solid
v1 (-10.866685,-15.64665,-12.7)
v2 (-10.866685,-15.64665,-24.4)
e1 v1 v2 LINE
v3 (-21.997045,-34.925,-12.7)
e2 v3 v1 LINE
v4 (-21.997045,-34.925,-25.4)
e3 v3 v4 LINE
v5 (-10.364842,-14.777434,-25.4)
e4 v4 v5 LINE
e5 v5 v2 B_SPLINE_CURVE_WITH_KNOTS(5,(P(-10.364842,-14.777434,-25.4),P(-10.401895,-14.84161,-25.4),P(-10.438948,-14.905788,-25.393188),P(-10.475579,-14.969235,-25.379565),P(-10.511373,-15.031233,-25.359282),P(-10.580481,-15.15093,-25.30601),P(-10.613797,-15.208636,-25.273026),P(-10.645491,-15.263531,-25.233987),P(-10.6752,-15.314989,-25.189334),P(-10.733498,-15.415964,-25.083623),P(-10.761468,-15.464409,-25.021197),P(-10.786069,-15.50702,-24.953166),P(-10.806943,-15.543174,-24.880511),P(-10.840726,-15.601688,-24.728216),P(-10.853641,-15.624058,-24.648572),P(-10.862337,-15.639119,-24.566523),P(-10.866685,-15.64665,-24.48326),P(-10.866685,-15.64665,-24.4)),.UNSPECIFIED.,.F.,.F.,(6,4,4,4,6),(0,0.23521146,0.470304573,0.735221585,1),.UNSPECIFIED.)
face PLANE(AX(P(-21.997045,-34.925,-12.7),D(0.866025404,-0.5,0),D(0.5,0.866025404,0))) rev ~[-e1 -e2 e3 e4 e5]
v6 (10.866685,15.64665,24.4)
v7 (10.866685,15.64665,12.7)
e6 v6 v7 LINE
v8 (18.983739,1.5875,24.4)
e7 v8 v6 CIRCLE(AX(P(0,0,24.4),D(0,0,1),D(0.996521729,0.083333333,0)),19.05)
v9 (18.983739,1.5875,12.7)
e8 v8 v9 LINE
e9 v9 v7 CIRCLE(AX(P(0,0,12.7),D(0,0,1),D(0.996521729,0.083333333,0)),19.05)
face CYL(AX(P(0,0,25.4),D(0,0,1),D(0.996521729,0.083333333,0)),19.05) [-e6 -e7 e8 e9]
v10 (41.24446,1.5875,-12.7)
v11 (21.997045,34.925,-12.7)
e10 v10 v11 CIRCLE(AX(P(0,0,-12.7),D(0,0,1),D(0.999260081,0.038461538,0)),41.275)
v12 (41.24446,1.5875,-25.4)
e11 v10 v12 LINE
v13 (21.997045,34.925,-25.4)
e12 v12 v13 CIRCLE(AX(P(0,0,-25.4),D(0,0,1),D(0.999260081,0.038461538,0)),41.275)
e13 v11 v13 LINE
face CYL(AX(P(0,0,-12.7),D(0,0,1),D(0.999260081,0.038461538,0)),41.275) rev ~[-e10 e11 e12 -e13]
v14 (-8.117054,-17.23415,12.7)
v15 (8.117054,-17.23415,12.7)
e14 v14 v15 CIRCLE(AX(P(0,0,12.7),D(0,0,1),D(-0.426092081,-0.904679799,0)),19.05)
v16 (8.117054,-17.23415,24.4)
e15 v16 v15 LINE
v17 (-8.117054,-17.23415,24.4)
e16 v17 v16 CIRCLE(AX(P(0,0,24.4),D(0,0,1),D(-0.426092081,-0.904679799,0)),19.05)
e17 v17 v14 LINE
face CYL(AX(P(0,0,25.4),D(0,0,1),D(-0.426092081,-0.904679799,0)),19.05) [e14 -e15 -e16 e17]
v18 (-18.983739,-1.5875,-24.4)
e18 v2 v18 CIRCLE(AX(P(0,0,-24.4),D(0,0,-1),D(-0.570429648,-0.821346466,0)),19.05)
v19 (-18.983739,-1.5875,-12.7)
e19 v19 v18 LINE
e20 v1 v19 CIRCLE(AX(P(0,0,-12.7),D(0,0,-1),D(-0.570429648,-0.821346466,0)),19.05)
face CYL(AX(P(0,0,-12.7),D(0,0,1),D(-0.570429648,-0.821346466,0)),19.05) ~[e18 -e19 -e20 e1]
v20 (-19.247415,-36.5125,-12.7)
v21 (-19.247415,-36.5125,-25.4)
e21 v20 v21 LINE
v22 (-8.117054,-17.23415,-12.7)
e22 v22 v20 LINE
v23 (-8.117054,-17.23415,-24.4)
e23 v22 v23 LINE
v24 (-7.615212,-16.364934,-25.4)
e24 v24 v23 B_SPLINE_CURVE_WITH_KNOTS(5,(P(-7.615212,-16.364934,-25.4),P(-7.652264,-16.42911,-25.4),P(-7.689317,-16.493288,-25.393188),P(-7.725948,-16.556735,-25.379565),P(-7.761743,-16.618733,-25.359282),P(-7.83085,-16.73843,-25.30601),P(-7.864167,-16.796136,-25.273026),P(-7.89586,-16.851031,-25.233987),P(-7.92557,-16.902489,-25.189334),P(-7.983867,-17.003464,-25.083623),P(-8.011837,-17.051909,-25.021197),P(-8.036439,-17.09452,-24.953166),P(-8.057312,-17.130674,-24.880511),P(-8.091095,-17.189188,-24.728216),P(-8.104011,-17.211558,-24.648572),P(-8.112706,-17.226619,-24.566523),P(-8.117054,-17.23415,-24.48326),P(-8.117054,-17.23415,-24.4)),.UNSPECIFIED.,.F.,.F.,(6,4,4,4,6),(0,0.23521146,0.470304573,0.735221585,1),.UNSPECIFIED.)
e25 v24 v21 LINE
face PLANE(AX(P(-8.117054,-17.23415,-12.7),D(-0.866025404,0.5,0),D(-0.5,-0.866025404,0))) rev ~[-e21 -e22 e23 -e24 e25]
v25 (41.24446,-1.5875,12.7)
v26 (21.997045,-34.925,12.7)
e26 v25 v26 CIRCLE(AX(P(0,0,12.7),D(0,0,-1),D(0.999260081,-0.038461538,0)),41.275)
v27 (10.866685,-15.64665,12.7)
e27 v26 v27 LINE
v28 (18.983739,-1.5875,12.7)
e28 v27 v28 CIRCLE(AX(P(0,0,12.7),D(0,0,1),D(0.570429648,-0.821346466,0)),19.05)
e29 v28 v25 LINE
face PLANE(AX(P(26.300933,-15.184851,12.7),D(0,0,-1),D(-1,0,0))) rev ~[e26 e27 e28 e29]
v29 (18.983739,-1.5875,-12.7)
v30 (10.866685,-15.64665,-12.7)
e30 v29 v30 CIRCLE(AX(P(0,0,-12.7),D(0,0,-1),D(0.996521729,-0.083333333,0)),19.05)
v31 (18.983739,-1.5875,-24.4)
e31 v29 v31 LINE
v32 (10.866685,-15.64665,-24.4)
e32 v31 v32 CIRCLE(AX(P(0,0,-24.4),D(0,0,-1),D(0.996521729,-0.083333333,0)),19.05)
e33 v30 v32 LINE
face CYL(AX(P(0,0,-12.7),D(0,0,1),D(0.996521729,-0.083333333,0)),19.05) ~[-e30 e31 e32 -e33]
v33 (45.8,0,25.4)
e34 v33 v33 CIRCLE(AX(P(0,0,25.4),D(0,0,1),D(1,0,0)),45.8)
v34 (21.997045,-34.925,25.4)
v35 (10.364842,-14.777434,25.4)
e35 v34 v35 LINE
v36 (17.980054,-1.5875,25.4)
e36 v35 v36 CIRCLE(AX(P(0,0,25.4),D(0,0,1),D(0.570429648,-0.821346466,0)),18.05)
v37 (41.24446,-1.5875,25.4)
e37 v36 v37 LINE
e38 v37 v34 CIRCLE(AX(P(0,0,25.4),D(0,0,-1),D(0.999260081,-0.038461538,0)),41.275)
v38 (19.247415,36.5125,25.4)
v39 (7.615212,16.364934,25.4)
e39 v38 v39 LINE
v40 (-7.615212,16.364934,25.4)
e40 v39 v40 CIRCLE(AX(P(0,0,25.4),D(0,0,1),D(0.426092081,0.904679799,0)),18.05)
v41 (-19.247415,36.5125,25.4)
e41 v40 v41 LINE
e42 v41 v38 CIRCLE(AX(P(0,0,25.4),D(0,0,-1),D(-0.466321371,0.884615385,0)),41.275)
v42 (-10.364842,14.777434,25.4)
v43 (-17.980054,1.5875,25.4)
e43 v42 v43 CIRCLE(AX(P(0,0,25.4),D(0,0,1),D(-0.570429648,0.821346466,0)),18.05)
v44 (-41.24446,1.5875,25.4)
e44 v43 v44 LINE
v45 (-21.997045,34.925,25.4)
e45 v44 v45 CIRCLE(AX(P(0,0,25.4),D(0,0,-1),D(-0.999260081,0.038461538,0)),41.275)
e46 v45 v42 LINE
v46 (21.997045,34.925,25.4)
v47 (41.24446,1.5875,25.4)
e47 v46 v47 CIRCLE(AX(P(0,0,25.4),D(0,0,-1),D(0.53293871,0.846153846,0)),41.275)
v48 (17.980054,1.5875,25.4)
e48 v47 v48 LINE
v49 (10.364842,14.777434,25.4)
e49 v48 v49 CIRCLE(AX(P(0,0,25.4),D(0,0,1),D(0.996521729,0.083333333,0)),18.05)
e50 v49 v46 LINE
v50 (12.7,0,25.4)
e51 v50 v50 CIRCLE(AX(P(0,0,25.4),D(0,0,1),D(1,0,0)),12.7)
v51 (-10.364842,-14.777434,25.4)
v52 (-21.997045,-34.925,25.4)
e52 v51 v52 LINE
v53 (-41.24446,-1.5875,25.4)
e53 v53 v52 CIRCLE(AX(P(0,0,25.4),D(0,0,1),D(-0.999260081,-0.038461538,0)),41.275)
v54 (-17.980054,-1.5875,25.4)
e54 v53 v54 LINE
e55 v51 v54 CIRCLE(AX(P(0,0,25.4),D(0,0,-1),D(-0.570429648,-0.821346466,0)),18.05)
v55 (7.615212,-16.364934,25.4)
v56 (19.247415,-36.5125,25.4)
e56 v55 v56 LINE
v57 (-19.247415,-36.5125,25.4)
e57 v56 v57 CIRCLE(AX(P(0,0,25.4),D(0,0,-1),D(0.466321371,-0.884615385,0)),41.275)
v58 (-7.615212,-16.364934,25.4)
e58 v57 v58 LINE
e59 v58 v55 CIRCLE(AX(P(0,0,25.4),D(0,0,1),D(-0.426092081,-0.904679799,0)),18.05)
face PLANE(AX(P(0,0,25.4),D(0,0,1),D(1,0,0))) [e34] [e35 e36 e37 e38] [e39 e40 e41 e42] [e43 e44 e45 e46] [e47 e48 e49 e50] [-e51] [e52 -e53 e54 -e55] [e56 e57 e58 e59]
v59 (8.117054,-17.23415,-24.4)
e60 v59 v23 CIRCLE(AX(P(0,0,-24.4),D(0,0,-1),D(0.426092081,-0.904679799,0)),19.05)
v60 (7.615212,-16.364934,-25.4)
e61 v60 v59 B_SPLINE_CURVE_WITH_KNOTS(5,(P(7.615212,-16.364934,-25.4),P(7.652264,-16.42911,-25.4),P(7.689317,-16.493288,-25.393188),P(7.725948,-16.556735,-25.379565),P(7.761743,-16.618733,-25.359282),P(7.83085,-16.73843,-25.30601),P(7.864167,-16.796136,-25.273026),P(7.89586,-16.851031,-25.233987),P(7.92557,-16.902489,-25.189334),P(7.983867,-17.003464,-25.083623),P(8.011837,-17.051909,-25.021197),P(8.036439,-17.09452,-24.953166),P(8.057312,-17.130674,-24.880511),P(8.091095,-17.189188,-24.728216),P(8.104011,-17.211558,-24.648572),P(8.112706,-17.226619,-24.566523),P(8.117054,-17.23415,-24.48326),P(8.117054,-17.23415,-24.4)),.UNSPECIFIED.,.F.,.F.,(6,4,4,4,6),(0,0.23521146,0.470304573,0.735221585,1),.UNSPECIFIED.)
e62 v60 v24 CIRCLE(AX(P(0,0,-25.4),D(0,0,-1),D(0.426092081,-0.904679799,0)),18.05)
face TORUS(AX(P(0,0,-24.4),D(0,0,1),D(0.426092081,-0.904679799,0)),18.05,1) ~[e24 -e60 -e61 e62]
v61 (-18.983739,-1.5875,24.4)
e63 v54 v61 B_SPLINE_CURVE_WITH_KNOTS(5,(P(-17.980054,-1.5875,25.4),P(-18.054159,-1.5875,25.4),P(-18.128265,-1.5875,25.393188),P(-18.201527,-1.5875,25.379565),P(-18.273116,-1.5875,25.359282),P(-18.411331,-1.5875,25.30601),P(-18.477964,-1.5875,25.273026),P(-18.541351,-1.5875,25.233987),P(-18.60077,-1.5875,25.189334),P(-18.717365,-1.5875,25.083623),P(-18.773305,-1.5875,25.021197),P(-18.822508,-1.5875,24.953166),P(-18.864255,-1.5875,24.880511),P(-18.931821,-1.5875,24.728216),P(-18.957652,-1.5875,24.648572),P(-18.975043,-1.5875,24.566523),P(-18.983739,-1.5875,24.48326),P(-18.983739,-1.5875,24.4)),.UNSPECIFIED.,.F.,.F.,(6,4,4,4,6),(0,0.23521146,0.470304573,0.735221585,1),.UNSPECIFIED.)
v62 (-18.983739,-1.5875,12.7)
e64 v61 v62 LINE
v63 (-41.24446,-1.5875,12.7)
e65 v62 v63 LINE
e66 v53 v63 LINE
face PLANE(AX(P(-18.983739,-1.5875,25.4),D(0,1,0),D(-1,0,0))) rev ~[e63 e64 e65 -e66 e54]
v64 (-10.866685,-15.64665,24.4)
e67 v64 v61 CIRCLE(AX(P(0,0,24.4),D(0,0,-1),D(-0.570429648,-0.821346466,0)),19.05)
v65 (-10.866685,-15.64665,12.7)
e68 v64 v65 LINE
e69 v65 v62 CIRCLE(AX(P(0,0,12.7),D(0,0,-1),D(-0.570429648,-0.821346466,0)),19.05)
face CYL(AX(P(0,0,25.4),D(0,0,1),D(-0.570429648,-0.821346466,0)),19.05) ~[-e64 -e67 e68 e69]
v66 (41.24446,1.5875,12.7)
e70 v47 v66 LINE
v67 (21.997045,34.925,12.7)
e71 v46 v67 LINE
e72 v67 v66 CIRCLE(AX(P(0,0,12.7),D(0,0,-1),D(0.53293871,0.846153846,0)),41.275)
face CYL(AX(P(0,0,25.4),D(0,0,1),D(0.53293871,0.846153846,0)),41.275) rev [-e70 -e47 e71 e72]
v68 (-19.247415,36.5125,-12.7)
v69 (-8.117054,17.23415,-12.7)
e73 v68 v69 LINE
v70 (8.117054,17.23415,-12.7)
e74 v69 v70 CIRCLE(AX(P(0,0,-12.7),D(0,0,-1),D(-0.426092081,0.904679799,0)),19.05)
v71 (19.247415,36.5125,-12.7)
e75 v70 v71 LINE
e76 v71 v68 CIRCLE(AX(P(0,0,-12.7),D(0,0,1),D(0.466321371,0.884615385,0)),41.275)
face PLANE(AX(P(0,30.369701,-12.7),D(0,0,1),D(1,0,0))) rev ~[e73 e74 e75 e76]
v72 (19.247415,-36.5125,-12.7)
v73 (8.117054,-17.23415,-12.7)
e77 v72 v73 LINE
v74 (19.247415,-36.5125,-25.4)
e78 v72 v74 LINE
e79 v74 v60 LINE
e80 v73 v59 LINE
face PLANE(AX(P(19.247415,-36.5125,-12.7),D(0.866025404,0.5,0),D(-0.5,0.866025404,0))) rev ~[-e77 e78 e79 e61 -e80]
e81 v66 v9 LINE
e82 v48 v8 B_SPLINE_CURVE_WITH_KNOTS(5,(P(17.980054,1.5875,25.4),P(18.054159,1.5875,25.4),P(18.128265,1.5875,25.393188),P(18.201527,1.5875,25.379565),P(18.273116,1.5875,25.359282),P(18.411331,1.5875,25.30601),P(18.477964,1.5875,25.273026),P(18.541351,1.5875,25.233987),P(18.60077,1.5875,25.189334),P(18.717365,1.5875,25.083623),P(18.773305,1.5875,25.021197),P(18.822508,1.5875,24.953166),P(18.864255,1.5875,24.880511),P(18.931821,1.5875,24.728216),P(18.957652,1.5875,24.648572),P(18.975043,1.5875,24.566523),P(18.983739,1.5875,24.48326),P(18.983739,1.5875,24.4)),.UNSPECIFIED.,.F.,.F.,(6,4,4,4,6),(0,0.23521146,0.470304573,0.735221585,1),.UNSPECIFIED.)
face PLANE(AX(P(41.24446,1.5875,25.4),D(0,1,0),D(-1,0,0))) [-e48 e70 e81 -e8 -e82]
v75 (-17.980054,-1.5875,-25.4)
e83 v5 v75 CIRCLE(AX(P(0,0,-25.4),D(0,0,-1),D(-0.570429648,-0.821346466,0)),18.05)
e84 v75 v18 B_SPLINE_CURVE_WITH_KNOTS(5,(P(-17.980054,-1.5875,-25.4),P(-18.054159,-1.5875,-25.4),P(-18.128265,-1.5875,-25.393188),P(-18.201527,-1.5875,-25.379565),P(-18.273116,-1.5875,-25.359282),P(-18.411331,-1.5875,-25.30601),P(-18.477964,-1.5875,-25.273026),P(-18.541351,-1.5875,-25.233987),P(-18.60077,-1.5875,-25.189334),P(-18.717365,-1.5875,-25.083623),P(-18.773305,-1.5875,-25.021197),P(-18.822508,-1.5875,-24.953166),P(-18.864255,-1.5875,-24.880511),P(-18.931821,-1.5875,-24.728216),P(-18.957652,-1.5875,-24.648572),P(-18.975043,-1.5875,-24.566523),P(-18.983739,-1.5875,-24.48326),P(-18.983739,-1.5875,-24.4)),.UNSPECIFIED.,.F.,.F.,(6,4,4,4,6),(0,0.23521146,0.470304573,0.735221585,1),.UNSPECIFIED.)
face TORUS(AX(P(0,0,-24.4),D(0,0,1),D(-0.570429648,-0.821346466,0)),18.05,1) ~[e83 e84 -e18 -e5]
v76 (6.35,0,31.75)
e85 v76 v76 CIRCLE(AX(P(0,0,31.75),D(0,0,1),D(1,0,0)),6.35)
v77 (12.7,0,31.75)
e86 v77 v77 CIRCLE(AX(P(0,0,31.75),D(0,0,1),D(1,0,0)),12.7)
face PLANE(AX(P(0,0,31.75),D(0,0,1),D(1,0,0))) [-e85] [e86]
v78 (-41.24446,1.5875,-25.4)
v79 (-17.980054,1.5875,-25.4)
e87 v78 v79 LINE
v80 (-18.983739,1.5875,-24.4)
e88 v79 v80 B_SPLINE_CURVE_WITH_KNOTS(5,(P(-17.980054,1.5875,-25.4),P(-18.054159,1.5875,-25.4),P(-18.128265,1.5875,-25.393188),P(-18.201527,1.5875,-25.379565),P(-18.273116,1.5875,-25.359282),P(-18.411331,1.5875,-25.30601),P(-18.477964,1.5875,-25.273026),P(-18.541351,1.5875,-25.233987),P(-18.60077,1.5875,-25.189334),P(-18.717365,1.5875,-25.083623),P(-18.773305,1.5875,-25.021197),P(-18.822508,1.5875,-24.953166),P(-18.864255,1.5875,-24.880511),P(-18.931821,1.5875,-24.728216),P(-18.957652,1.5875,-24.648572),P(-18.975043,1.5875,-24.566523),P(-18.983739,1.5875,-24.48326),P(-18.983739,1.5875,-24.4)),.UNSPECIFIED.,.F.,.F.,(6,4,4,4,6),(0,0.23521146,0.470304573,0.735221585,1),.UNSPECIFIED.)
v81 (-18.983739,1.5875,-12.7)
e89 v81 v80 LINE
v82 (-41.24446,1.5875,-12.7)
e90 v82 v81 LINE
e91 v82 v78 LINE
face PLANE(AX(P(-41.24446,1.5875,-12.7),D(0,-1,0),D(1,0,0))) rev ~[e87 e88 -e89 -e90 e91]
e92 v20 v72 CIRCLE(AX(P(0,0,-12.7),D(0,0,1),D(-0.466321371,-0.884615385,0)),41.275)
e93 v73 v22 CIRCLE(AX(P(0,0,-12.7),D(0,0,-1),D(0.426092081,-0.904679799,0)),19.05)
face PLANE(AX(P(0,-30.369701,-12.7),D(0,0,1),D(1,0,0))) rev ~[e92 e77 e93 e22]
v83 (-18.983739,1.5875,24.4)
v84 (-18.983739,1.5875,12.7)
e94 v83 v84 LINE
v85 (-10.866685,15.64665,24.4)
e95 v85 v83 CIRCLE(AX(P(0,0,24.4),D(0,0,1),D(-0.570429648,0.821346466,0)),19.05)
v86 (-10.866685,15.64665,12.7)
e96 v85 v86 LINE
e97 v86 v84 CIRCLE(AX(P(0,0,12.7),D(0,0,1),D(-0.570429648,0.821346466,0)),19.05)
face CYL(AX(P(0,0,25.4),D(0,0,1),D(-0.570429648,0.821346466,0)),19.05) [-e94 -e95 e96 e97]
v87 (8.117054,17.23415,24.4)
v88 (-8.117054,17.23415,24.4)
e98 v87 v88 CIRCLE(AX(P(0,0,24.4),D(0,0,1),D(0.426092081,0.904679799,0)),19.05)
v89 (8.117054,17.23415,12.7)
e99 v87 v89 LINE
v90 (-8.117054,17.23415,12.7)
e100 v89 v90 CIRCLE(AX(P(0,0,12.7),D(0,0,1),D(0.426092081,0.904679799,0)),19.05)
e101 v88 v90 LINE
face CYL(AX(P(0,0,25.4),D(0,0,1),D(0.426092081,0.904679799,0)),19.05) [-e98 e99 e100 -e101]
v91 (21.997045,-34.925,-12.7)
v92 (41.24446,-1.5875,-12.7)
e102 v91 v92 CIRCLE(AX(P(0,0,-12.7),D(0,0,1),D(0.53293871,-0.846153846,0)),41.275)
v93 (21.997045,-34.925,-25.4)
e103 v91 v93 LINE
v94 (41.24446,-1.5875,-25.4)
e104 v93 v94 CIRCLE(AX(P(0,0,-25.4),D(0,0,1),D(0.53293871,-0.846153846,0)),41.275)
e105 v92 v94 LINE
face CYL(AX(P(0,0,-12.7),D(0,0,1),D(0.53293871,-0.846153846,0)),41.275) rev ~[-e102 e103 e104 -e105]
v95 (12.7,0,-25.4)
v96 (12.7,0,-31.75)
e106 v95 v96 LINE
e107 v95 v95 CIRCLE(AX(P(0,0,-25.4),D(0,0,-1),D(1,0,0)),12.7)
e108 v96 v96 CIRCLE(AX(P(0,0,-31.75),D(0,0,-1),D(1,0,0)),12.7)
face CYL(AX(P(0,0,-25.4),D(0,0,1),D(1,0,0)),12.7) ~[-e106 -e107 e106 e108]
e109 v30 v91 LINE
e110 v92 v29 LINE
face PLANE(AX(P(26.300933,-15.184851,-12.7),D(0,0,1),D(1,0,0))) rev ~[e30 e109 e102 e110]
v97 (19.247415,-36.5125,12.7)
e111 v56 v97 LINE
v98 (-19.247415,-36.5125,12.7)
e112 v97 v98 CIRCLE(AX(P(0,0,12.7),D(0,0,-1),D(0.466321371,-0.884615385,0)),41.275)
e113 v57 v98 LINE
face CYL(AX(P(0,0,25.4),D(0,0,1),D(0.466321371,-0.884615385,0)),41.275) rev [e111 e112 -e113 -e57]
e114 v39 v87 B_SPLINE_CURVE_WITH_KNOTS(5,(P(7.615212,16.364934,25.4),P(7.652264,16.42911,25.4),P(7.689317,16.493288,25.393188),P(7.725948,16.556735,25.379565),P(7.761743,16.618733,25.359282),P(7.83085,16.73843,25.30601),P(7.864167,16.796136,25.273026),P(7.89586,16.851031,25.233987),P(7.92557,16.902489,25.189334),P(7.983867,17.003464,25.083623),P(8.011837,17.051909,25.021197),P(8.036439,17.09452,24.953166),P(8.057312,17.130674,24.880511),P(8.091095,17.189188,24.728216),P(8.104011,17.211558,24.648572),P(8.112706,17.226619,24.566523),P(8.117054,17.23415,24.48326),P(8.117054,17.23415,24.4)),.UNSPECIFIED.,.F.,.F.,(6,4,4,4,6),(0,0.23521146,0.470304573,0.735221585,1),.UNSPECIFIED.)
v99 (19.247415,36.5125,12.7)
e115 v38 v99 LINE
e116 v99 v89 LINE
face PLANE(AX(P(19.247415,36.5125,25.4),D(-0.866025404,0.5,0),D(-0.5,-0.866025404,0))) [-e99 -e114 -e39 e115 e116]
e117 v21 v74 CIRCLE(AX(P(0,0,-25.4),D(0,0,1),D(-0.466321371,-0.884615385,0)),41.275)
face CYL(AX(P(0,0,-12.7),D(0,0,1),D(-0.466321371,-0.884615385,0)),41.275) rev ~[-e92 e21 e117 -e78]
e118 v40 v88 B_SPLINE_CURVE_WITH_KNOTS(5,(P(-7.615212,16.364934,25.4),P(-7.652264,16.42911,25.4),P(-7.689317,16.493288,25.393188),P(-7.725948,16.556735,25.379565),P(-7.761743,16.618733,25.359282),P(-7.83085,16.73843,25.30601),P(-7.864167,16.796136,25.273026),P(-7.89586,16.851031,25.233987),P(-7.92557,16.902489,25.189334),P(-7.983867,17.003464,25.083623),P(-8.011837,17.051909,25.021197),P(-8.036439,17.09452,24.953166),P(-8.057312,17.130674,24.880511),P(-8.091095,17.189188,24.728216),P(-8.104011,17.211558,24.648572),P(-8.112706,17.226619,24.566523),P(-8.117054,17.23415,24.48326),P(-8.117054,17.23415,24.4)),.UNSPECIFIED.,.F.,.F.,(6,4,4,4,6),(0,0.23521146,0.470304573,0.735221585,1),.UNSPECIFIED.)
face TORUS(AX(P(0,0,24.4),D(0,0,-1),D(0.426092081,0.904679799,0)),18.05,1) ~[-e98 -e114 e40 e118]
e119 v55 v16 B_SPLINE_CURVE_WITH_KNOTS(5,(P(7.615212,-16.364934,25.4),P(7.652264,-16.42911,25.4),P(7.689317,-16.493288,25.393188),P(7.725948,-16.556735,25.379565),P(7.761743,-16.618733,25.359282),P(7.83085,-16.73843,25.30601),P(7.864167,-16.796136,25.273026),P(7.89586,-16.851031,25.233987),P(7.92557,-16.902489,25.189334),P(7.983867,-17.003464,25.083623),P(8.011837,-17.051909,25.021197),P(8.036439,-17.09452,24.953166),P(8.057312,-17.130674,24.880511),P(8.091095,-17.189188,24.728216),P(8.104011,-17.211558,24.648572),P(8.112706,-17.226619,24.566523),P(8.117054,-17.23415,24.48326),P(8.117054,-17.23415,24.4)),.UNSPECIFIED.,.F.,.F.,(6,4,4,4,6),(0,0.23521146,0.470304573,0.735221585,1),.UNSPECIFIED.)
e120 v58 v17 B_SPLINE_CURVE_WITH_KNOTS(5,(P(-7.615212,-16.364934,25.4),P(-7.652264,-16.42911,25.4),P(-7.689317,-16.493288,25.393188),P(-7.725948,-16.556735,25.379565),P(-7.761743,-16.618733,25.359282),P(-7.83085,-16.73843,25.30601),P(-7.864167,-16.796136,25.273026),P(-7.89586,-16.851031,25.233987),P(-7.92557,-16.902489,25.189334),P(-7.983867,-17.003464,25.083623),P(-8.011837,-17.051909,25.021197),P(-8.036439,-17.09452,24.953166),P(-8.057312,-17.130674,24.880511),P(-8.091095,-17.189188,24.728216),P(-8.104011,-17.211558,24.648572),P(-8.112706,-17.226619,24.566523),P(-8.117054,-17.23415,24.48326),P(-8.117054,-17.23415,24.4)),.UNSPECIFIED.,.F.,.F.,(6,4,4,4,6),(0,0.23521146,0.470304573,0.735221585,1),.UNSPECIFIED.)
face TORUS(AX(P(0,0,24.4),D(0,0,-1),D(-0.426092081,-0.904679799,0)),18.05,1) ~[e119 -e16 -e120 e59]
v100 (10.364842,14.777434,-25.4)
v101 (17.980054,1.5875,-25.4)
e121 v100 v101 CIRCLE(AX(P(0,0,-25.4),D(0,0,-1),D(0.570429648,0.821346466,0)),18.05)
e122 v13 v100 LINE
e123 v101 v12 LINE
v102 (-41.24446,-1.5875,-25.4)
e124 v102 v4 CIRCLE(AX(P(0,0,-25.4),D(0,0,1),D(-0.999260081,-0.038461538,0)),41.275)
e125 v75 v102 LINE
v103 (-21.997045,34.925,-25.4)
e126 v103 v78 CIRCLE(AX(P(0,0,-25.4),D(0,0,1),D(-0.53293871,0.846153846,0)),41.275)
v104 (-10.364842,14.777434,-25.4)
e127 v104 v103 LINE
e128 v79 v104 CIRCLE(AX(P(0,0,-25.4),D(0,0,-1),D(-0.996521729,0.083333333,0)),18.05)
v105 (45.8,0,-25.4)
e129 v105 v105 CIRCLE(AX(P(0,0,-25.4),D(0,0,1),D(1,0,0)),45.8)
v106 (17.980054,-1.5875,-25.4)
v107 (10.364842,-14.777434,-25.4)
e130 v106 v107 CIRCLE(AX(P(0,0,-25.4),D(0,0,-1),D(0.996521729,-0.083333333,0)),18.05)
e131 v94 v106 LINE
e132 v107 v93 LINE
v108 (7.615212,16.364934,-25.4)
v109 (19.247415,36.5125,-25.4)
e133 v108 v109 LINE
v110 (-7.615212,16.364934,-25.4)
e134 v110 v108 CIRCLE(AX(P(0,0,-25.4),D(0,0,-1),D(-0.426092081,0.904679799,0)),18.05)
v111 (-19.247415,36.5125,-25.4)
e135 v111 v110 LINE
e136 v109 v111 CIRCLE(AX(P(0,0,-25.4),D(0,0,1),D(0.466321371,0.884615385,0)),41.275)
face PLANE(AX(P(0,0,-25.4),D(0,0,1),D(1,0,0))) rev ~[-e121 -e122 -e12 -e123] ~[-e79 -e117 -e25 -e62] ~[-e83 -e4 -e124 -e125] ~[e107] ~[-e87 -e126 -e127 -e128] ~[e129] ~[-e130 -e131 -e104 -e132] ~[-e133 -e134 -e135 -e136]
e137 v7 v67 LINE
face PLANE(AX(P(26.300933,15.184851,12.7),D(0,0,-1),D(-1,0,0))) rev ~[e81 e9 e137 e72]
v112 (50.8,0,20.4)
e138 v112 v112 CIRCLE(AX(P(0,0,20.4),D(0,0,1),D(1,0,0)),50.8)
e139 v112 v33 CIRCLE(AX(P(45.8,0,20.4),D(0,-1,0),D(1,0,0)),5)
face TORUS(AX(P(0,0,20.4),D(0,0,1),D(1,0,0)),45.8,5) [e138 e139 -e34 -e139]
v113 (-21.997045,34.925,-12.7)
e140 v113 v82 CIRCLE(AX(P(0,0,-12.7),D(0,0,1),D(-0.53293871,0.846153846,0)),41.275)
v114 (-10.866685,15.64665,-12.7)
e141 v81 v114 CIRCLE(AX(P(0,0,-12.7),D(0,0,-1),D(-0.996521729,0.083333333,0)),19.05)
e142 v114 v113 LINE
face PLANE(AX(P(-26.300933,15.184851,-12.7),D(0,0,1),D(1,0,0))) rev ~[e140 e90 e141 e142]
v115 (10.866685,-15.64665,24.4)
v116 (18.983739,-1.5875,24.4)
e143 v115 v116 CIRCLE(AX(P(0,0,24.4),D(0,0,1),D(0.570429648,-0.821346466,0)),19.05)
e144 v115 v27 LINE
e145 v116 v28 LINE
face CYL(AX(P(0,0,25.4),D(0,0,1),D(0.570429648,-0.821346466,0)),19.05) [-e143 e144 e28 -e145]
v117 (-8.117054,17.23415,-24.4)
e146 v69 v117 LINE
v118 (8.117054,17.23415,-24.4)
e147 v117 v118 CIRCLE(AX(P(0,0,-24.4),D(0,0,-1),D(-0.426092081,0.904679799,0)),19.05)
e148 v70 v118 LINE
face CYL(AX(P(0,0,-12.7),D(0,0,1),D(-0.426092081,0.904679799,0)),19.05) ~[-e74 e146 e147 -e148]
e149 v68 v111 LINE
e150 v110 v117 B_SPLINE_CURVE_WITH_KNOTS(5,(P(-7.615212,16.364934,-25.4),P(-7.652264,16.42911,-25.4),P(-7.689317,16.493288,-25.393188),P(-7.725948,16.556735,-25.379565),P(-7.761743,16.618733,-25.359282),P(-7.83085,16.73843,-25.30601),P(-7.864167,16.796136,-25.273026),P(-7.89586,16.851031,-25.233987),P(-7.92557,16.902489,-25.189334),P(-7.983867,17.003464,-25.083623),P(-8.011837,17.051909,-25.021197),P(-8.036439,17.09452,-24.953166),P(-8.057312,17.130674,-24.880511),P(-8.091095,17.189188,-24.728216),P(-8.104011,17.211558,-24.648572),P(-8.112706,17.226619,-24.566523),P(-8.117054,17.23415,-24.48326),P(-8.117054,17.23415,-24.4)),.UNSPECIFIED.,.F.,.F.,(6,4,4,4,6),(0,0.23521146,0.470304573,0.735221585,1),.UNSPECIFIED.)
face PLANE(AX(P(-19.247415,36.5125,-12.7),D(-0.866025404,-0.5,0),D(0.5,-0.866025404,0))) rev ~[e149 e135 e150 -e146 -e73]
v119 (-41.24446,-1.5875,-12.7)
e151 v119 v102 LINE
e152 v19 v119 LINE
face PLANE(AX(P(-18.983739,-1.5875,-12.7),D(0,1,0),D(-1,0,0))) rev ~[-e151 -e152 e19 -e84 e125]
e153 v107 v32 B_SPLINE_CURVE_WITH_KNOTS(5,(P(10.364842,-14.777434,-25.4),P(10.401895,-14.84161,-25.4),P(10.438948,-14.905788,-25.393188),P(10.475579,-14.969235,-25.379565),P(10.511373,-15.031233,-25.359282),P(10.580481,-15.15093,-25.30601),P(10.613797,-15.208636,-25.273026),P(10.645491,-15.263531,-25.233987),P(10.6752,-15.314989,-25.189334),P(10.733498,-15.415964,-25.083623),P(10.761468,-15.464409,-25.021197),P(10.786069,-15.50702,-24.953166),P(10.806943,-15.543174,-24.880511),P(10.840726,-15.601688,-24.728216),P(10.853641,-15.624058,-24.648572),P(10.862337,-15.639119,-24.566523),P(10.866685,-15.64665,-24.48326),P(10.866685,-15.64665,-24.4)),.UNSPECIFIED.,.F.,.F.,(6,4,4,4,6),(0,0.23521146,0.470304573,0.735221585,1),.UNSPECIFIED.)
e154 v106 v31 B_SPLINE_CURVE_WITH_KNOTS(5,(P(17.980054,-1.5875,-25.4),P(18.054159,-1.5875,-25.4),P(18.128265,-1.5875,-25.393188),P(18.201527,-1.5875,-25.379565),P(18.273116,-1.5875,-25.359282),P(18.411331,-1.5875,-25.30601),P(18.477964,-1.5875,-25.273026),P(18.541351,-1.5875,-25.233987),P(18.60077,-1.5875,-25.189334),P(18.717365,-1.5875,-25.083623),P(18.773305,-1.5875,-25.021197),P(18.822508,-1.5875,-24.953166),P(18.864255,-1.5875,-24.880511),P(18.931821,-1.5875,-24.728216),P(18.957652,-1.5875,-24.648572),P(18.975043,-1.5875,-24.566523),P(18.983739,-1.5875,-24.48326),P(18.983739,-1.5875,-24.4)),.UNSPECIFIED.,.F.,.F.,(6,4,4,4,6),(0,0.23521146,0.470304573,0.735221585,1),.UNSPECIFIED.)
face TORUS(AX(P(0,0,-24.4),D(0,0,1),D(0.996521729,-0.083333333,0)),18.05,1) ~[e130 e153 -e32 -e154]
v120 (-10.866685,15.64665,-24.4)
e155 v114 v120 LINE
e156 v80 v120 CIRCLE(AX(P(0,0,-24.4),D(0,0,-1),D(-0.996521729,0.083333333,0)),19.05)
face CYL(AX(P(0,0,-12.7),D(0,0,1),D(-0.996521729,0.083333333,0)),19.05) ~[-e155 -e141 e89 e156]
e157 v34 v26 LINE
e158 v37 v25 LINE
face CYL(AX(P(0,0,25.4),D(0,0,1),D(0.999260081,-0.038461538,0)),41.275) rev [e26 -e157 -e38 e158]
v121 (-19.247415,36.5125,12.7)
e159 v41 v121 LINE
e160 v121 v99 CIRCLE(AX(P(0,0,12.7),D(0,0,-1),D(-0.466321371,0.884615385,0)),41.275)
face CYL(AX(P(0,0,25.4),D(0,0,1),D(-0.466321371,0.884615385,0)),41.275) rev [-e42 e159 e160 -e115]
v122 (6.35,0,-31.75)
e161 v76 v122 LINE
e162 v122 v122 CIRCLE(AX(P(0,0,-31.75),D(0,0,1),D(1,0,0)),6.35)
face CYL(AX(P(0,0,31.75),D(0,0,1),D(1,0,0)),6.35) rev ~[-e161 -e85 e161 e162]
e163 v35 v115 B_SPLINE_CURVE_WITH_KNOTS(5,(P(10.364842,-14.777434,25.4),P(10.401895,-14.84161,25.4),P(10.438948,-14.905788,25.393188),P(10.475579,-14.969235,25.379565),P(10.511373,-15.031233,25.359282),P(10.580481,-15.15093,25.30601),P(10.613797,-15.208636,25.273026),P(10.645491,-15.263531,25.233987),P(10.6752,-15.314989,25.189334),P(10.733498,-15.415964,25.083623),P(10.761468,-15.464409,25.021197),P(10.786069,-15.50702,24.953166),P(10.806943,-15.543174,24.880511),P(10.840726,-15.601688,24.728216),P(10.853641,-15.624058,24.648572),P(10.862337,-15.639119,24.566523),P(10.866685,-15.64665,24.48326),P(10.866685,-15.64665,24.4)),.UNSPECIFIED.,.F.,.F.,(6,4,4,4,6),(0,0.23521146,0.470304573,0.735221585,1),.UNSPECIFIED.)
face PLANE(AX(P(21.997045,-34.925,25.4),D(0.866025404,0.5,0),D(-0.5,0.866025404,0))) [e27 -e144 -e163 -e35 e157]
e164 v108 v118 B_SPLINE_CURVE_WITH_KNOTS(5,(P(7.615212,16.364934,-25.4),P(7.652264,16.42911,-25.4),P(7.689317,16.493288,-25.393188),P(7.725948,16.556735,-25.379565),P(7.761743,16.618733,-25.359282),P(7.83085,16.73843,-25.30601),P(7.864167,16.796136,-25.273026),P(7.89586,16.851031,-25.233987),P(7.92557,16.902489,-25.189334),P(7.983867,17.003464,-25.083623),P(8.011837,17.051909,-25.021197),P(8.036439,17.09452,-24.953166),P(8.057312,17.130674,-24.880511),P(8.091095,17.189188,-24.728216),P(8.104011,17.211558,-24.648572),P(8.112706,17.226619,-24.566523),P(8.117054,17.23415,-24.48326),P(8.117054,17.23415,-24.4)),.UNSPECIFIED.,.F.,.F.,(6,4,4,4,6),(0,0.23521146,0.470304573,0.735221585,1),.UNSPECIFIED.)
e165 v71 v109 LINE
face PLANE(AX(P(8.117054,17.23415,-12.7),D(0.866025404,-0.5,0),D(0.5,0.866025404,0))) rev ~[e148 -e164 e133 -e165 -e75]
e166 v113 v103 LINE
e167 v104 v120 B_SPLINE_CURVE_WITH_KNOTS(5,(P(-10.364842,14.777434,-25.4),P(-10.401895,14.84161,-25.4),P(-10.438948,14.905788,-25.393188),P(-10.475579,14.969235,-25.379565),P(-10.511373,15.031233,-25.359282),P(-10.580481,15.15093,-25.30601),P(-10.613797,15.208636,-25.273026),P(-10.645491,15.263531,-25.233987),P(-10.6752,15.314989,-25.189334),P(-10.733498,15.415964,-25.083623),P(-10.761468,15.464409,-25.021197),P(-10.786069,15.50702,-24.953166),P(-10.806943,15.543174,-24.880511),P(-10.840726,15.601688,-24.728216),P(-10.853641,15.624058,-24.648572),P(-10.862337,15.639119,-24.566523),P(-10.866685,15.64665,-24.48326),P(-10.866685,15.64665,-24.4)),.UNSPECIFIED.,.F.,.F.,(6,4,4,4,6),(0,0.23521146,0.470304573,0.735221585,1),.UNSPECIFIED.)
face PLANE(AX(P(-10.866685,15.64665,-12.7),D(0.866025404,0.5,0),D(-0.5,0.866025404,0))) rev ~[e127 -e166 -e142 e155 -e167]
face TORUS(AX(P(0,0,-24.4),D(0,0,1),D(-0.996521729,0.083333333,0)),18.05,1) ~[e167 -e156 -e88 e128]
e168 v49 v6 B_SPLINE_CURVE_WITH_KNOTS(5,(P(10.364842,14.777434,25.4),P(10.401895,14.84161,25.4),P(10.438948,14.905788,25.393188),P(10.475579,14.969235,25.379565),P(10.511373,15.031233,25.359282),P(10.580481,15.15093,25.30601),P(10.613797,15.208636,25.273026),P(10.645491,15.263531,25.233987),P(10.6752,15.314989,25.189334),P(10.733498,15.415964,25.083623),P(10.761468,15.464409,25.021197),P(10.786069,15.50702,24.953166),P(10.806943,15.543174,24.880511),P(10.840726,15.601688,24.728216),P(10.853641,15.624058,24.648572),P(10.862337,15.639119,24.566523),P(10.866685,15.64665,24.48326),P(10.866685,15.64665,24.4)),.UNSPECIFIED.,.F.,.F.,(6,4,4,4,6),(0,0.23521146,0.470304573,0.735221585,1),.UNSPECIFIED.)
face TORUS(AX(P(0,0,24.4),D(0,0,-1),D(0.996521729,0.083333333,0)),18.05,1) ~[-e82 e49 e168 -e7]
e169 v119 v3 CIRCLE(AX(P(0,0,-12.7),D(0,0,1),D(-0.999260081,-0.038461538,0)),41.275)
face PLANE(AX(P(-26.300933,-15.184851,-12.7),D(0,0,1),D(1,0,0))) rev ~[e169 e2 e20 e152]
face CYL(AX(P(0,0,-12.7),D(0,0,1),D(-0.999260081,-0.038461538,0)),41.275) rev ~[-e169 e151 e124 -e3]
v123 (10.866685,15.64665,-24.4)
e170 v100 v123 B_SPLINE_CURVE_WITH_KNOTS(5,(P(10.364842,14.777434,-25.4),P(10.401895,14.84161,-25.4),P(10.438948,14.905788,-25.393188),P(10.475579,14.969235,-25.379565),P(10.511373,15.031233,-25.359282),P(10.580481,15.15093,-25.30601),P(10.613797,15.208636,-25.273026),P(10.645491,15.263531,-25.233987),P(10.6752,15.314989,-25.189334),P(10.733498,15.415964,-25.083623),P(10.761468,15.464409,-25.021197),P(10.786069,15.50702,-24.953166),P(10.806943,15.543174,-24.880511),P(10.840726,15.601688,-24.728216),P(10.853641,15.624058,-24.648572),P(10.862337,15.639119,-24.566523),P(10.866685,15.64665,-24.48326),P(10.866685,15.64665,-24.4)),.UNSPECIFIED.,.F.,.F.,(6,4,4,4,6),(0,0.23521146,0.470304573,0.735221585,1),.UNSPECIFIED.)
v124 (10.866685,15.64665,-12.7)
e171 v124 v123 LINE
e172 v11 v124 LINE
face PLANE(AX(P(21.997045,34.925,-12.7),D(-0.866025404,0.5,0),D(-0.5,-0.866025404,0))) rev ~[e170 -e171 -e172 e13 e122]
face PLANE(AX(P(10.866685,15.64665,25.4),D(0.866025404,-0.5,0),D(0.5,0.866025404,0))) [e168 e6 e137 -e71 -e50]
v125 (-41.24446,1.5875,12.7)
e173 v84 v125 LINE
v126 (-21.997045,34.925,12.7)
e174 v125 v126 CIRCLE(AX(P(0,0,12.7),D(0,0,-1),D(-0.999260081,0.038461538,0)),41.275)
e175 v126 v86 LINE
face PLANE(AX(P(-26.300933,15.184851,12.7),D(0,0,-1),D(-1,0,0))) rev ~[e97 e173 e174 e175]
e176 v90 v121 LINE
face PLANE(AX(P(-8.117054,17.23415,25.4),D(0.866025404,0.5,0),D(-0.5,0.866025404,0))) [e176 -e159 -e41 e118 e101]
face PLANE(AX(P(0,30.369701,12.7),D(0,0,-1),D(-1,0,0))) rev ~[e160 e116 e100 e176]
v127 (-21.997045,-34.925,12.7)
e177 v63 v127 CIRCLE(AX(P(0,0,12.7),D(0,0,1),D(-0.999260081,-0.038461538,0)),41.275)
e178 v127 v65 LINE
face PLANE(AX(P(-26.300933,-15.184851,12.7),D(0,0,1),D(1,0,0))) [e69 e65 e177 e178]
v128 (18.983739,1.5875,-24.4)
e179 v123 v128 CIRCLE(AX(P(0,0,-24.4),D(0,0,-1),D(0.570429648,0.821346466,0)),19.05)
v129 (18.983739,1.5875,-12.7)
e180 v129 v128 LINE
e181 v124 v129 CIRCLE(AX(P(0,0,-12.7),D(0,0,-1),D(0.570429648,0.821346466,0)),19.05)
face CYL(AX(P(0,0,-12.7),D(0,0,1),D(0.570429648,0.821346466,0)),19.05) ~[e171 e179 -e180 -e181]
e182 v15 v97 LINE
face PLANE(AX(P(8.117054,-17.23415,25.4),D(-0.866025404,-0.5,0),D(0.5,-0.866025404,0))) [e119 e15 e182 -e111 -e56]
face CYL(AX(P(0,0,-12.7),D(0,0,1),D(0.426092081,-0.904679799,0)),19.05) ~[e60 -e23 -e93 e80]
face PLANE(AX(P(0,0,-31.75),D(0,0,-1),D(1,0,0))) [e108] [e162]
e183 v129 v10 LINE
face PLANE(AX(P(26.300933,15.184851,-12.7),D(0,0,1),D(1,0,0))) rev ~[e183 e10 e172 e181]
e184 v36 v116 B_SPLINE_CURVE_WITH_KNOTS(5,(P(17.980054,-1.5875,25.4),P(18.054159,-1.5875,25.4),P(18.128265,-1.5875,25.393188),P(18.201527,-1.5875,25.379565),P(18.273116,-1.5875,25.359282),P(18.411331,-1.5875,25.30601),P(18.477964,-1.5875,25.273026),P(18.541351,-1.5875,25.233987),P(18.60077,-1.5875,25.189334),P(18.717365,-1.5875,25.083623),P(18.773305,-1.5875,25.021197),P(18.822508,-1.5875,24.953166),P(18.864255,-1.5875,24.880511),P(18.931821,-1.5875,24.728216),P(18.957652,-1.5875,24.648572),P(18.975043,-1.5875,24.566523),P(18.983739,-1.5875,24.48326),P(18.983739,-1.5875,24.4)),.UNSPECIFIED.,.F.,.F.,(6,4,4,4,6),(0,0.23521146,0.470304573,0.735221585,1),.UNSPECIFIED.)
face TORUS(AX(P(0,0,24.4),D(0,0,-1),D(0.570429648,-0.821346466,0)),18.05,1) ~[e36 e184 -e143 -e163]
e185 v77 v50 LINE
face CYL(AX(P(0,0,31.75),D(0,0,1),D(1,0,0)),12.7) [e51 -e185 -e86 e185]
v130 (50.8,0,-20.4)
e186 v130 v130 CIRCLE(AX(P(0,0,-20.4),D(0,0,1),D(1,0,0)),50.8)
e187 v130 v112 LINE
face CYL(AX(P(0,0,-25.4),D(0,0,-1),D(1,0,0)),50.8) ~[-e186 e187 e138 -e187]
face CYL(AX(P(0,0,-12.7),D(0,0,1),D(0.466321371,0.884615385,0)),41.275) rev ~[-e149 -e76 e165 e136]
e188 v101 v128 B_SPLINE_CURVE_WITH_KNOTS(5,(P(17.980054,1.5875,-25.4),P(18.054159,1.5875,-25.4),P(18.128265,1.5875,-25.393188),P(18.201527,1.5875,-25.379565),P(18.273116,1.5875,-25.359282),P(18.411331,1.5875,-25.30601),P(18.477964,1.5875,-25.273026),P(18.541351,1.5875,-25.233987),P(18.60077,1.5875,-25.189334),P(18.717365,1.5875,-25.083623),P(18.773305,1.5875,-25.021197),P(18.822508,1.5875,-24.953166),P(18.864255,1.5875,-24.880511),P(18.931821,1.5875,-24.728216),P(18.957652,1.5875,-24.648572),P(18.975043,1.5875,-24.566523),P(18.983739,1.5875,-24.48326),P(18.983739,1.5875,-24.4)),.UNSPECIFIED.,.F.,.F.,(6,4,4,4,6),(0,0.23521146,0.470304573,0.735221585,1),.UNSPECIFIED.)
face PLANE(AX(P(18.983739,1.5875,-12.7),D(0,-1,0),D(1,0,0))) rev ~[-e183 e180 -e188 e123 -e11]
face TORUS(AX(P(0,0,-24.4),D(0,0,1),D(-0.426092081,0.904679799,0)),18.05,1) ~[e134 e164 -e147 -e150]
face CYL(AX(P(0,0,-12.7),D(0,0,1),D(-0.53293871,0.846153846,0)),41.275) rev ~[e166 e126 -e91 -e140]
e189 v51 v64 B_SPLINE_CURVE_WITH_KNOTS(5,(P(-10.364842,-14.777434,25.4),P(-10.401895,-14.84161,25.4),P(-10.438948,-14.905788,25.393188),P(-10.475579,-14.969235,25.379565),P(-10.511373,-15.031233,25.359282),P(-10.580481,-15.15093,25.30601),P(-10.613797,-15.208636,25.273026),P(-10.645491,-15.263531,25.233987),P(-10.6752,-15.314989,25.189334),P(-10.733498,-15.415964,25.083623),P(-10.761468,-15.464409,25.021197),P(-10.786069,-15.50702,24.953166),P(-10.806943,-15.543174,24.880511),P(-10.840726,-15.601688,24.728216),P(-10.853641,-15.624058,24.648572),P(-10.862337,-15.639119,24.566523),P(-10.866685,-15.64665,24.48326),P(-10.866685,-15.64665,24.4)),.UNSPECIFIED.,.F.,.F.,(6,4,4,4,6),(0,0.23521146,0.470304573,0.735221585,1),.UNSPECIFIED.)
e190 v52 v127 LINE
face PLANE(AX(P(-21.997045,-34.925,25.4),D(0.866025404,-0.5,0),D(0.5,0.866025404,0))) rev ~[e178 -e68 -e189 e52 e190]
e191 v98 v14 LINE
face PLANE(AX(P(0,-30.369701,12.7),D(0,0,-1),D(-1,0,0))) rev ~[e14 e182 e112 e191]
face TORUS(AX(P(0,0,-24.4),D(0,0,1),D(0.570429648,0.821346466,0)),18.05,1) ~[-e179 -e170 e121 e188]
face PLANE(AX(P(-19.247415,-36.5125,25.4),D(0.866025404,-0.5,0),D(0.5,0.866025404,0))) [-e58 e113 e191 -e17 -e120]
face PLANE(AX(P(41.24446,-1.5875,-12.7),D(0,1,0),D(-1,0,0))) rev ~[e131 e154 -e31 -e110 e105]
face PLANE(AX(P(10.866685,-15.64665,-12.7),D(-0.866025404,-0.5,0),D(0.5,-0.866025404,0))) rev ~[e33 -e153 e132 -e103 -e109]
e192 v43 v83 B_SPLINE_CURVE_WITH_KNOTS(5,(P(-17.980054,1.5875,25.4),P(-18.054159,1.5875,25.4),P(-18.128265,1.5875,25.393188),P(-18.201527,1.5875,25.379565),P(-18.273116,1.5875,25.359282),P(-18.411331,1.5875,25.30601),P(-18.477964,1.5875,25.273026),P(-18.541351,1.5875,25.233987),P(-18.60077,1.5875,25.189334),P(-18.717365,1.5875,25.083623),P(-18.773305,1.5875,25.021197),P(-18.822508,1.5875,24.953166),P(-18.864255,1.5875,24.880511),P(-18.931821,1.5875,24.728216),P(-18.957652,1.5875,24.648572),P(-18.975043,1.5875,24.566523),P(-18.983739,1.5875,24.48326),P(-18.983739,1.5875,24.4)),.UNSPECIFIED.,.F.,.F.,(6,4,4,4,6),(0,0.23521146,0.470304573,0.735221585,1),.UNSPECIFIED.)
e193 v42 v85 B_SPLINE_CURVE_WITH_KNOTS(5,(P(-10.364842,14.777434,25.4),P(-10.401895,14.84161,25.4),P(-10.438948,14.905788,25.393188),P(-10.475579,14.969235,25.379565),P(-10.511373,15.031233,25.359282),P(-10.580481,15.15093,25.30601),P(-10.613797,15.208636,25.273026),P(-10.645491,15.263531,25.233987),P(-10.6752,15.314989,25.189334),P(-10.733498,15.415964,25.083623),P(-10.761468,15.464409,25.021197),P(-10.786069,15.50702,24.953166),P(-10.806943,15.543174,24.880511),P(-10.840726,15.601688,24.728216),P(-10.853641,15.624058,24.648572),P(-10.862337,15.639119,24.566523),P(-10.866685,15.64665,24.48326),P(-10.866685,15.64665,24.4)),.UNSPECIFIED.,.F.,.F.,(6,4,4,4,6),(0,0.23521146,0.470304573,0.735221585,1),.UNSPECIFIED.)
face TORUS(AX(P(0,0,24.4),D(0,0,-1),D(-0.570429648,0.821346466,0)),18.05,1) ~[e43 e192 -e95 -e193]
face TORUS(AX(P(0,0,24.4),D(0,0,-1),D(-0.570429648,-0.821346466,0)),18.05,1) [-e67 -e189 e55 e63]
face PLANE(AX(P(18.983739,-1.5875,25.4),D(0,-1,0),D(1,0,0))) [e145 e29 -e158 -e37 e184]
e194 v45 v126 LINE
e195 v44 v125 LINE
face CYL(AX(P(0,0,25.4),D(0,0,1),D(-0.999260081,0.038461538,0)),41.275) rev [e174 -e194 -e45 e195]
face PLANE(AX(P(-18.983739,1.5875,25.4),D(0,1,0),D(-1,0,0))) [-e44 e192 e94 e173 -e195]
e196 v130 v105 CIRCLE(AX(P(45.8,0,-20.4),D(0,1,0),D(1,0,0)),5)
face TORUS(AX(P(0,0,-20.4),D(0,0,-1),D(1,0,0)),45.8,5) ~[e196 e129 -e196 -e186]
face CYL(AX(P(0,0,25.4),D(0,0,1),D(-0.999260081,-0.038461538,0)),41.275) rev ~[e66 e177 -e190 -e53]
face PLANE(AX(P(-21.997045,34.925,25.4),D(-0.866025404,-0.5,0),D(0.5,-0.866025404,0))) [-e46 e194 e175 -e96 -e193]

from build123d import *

# Parameters (mm, degrees)
BOSS_EXTRUDE1_DEPTH      = 25.4
BOSS_EXTRUDE1_DEPTH_BACK = 25.4
SKETCH1_R                = 50.8
CUT_EXTRUDE1_DEPTH       = 12.7
CUT_EXTRUDE2_START       = -12.7
CUT_EXTRUDE2_DEPTH       = 12.7
SKETCH5_R                = 12.7
BOSS_EXTRUDE2_DEPTH      = 6.35
BOSS_EXTRUDE3_START      = 6.35
SKETCH6_R                = 12.7
BOSS_EXTRUDE3_DEPTH      = 6.35
SKETCH7_R                = 6.35
CUT_EXTRUDE3_DEPTH       = 96.882897328
FILLET1_R                = 5
FILLET2_R                = 1


with BuildPart() as part:
    # Sketch1 → Boss-Extrude1 (new, two sides: drawn at the far end of the back side and taken through both)
    with BuildSketch(Plane.XY.offset(-BOSS_EXTRUDE1_DEPTH_BACK)):
        Circle(SKETCH1_R)
    extrude(amount=BOSS_EXTRUDE1_DEPTH + BOSS_EXTRUDE1_DEPTH_BACK)

    # Sketch3 → Cut-Extrude1 (cut)
    with BuildSketch(Plane.XY.offset(25.4)):
        with BuildLine():
            Line((-19.247414599, -36.5125), (-8.117054136, -17.234150172))
            ThreePointArc((-8.117054136, -17.234150172), (0, -19.05), (8.117054136, -17.234150172))
            Line((8.117054136, -17.234150172), (19.247414599, -36.5125))
            ThreePointArc((19.247414599, -36.5125), (0, -41.275), (-19.247414599, -36.5125))
        make_face()
        with BuildLine():
            Line((-21.997045256, -34.925), (-10.866684793, -15.646650172))
            ThreePointArc((-10.866684793, -15.646650172), (-16.497783942, -9.525), (-18.98373893, -1.5875))
            Line((-18.98373893, -1.5875), (-41.244459855, -1.5875))
            ThreePointArc((-41.244459855, -1.5875), (-35.745198541, -20.6375), (-21.997045256, -34.925))
        make_face()
        with BuildLine():
            Line((21.997045256, -34.925), (10.866684793, -15.646650172))
            ThreePointArc((10.866684793, -15.646650172), (16.497783942, -9.525), (18.98373893, -1.5875))
            Line((18.98373893, -1.5875), (41.244459855, -1.5875))
            ThreePointArc((41.244459855, -1.5875), (35.745198541, -20.6375), (21.997045256, -34.925))
        make_face()
        with BuildLine():
            Line((-21.997045256, 34.925), (-10.866684793, 15.646650172))
            ThreePointArc((-10.866684793, 15.646650172), (-16.497783942, 9.525), (-18.98373893, 1.5875))
            Line((-18.98373893, 1.5875), (-41.244459855, 1.5875))
            ThreePointArc((-41.244459855, 1.5875), (-35.745198541, 20.6375), (-21.997045256, 34.925))
        make_face()
        with BuildLine():
            Line((41.244459855, 1.5875), (18.98373893, 1.5875))
            ThreePointArc((18.98373893, 1.5875), (16.497783942, 9.525), (10.866684793, 15.646650172))
            Line((10.866684793, 15.646650172), (21.997045256, 34.925))
            ThreePointArc((21.997045256, 34.925), (35.745198541, 20.6375), (41.244459855, 1.5875))
        make_face()
        with BuildLine():
            Line((-8.117054136, 17.234150172), (-19.247414599, 36.5125))
            ThreePointArc((-19.247414599, 36.5125), (0, 41.275), (19.247414599, 36.5125))
            Line((19.247414599, 36.5125), (8.117054136, 17.234150172))
            ThreePointArc((8.117054136, 17.234150172), (0, 19.05), (-8.117054136, 17.234150172))
        make_face()
    extrude(amount=-CUT_EXTRUDE1_DEPTH, mode=Mode.SUBTRACT)

    # Sketch4 → Cut-Extrude2 (cut)
    with BuildSketch(Plane(origin=(0, 0, -25.4), x_dir=(-1, 0, 0), z_dir=(0, 0, -1)).offset(CUT_EXTRUDE2_START)):
        with BuildLine():
            Line((21.997045256, -34.925), (10.866684793, -15.646650172))
            ThreePointArc((10.866684793, -15.646650172), (16.497783942, -9.525), (18.98373893, -1.5875))
            Line((18.98373893, -1.5875), (41.244459855, -1.5875))
            ThreePointArc((41.244459855, -1.5875), (35.745198541, -20.6375), (21.997045256, -34.925))
        make_face()
        with BuildLine():
            Line((8.117054136, -17.234150172), (19.247414599, -36.5125))
            ThreePointArc((19.247414599, -36.5125), (0, -41.275), (-19.247414599, -36.5125))
            Line((-19.247414599, -36.5125), (-8.117054136, -17.234150172))
            ThreePointArc((-8.117054136, -17.234150172), (0, -19.05), (8.117054136, -17.234150172))
        make_face()
        with BuildLine():
            Line((-10.866684793, -15.646650172), (-21.997045256, -34.925))
            ThreePointArc((-21.997045256, -34.925), (-35.745198541, -20.6375), (-41.244459855, -1.5875))
            Line((-41.244459855, -1.5875), (-18.98373893, -1.5875))
            ThreePointArc((-18.98373893, -1.5875), (-16.497783942, -9.525), (-10.866684793, -15.646650172))
        make_face()
        with BuildLine():
            Line((-21.997045256, 34.925), (-10.866684793, 15.646650172))
            ThreePointArc((-10.866684793, 15.646650172), (-16.497783942, 9.525), (-18.98373893, 1.5875))
            Line((-18.98373893, 1.5875), (-41.244459855, 1.5875))
            ThreePointArc((-41.244459855, 1.5875), (-35.745198541, 20.6375), (-21.997045256, 34.925))
        make_face()
        with BuildLine():
            Line((41.244459855, 1.5875), (18.98373893, 1.5875))
            ThreePointArc((18.98373893, 1.5875), (16.497783942, 9.525), (10.866684793, 15.646650172))
            Line((10.866684793, 15.646650172), (21.997045256, 34.925))
            ThreePointArc((21.997045256, 34.925), (35.745198541, 20.6375), (41.244459855, 1.5875))
        make_face()
        with BuildLine():
            Line((-8.117054136, 17.234150172), (-19.247414599, 36.5125))
            ThreePointArc((-19.247414599, 36.5125), (0, 41.275), (19.247414599, 36.5125))
            Line((19.247414599, 36.5125), (8.117054136, 17.234150172))
            ThreePointArc((8.117054136, 17.234150172), (0, 19.05), (-8.117054136, 17.234150172))
        make_face()
    extrude(amount=CUT_EXTRUDE2_DEPTH, mode=Mode.SUBTRACT)

    # Sketch5 → Boss-Extrude2 (add)
    with BuildSketch(Plane(origin=(0, 0, -25.4), x_dir=(-1, 0, 0), z_dir=(0, 0, -1))):
        Circle(SKETCH5_R)
    extrude(amount=BOSS_EXTRUDE2_DEPTH)

    # Sketch6 → Boss-Extrude3 (add)
    with BuildSketch(Plane.XY.offset(25.4).offset(BOSS_EXTRUDE3_START)):
        Circle(SKETCH6_R)
    extrude(amount=-BOSS_EXTRUDE3_DEPTH)

    # Sketch7 → Cut-Extrude3 (cut, through all)
    with BuildSketch(Plane.XY.offset(31.75)):
        Circle(SKETCH7_R)
    extrude(amount=-CUT_EXTRUDE3_DEPTH, mode=Mode.SUBTRACT)

    # Fillet1
    fillet1_edges = [part.edges().sort_by_distance(p)[0] for p in [
        (-50.8, 0, 25.4),
        (-50.8, 0, -25.4),
    ]]
    fillet(fillet1_edges, radius=FILLET1_R)

    # Fillet2
    fillet2_edges = [part.edges().sort_by_distance(p)[0] for p in [
        (16.497783942, 9.525, 25.4),
        (16.497783942, -9.525, 25.4),
        (0, -19.05, 25.4),
        (-16.497783942, -9.525, 25.4),
        (0, 19.05, 25.4),
        (-16.497783942, 9.525, 25.4),
        (-16.497783942, 9.525, -25.4),
        (-16.497783942, -9.525, -25.4),
        (0, -19.05, -25.4),
        (16.497783942, -9.525, -25.4),
        (16.497783942, 9.525, -25.4),
        (0, 19.05, -25.4),
    ]]
    fillet(fillet2_edges, radius=FILLET2_R)


solid = part.part
